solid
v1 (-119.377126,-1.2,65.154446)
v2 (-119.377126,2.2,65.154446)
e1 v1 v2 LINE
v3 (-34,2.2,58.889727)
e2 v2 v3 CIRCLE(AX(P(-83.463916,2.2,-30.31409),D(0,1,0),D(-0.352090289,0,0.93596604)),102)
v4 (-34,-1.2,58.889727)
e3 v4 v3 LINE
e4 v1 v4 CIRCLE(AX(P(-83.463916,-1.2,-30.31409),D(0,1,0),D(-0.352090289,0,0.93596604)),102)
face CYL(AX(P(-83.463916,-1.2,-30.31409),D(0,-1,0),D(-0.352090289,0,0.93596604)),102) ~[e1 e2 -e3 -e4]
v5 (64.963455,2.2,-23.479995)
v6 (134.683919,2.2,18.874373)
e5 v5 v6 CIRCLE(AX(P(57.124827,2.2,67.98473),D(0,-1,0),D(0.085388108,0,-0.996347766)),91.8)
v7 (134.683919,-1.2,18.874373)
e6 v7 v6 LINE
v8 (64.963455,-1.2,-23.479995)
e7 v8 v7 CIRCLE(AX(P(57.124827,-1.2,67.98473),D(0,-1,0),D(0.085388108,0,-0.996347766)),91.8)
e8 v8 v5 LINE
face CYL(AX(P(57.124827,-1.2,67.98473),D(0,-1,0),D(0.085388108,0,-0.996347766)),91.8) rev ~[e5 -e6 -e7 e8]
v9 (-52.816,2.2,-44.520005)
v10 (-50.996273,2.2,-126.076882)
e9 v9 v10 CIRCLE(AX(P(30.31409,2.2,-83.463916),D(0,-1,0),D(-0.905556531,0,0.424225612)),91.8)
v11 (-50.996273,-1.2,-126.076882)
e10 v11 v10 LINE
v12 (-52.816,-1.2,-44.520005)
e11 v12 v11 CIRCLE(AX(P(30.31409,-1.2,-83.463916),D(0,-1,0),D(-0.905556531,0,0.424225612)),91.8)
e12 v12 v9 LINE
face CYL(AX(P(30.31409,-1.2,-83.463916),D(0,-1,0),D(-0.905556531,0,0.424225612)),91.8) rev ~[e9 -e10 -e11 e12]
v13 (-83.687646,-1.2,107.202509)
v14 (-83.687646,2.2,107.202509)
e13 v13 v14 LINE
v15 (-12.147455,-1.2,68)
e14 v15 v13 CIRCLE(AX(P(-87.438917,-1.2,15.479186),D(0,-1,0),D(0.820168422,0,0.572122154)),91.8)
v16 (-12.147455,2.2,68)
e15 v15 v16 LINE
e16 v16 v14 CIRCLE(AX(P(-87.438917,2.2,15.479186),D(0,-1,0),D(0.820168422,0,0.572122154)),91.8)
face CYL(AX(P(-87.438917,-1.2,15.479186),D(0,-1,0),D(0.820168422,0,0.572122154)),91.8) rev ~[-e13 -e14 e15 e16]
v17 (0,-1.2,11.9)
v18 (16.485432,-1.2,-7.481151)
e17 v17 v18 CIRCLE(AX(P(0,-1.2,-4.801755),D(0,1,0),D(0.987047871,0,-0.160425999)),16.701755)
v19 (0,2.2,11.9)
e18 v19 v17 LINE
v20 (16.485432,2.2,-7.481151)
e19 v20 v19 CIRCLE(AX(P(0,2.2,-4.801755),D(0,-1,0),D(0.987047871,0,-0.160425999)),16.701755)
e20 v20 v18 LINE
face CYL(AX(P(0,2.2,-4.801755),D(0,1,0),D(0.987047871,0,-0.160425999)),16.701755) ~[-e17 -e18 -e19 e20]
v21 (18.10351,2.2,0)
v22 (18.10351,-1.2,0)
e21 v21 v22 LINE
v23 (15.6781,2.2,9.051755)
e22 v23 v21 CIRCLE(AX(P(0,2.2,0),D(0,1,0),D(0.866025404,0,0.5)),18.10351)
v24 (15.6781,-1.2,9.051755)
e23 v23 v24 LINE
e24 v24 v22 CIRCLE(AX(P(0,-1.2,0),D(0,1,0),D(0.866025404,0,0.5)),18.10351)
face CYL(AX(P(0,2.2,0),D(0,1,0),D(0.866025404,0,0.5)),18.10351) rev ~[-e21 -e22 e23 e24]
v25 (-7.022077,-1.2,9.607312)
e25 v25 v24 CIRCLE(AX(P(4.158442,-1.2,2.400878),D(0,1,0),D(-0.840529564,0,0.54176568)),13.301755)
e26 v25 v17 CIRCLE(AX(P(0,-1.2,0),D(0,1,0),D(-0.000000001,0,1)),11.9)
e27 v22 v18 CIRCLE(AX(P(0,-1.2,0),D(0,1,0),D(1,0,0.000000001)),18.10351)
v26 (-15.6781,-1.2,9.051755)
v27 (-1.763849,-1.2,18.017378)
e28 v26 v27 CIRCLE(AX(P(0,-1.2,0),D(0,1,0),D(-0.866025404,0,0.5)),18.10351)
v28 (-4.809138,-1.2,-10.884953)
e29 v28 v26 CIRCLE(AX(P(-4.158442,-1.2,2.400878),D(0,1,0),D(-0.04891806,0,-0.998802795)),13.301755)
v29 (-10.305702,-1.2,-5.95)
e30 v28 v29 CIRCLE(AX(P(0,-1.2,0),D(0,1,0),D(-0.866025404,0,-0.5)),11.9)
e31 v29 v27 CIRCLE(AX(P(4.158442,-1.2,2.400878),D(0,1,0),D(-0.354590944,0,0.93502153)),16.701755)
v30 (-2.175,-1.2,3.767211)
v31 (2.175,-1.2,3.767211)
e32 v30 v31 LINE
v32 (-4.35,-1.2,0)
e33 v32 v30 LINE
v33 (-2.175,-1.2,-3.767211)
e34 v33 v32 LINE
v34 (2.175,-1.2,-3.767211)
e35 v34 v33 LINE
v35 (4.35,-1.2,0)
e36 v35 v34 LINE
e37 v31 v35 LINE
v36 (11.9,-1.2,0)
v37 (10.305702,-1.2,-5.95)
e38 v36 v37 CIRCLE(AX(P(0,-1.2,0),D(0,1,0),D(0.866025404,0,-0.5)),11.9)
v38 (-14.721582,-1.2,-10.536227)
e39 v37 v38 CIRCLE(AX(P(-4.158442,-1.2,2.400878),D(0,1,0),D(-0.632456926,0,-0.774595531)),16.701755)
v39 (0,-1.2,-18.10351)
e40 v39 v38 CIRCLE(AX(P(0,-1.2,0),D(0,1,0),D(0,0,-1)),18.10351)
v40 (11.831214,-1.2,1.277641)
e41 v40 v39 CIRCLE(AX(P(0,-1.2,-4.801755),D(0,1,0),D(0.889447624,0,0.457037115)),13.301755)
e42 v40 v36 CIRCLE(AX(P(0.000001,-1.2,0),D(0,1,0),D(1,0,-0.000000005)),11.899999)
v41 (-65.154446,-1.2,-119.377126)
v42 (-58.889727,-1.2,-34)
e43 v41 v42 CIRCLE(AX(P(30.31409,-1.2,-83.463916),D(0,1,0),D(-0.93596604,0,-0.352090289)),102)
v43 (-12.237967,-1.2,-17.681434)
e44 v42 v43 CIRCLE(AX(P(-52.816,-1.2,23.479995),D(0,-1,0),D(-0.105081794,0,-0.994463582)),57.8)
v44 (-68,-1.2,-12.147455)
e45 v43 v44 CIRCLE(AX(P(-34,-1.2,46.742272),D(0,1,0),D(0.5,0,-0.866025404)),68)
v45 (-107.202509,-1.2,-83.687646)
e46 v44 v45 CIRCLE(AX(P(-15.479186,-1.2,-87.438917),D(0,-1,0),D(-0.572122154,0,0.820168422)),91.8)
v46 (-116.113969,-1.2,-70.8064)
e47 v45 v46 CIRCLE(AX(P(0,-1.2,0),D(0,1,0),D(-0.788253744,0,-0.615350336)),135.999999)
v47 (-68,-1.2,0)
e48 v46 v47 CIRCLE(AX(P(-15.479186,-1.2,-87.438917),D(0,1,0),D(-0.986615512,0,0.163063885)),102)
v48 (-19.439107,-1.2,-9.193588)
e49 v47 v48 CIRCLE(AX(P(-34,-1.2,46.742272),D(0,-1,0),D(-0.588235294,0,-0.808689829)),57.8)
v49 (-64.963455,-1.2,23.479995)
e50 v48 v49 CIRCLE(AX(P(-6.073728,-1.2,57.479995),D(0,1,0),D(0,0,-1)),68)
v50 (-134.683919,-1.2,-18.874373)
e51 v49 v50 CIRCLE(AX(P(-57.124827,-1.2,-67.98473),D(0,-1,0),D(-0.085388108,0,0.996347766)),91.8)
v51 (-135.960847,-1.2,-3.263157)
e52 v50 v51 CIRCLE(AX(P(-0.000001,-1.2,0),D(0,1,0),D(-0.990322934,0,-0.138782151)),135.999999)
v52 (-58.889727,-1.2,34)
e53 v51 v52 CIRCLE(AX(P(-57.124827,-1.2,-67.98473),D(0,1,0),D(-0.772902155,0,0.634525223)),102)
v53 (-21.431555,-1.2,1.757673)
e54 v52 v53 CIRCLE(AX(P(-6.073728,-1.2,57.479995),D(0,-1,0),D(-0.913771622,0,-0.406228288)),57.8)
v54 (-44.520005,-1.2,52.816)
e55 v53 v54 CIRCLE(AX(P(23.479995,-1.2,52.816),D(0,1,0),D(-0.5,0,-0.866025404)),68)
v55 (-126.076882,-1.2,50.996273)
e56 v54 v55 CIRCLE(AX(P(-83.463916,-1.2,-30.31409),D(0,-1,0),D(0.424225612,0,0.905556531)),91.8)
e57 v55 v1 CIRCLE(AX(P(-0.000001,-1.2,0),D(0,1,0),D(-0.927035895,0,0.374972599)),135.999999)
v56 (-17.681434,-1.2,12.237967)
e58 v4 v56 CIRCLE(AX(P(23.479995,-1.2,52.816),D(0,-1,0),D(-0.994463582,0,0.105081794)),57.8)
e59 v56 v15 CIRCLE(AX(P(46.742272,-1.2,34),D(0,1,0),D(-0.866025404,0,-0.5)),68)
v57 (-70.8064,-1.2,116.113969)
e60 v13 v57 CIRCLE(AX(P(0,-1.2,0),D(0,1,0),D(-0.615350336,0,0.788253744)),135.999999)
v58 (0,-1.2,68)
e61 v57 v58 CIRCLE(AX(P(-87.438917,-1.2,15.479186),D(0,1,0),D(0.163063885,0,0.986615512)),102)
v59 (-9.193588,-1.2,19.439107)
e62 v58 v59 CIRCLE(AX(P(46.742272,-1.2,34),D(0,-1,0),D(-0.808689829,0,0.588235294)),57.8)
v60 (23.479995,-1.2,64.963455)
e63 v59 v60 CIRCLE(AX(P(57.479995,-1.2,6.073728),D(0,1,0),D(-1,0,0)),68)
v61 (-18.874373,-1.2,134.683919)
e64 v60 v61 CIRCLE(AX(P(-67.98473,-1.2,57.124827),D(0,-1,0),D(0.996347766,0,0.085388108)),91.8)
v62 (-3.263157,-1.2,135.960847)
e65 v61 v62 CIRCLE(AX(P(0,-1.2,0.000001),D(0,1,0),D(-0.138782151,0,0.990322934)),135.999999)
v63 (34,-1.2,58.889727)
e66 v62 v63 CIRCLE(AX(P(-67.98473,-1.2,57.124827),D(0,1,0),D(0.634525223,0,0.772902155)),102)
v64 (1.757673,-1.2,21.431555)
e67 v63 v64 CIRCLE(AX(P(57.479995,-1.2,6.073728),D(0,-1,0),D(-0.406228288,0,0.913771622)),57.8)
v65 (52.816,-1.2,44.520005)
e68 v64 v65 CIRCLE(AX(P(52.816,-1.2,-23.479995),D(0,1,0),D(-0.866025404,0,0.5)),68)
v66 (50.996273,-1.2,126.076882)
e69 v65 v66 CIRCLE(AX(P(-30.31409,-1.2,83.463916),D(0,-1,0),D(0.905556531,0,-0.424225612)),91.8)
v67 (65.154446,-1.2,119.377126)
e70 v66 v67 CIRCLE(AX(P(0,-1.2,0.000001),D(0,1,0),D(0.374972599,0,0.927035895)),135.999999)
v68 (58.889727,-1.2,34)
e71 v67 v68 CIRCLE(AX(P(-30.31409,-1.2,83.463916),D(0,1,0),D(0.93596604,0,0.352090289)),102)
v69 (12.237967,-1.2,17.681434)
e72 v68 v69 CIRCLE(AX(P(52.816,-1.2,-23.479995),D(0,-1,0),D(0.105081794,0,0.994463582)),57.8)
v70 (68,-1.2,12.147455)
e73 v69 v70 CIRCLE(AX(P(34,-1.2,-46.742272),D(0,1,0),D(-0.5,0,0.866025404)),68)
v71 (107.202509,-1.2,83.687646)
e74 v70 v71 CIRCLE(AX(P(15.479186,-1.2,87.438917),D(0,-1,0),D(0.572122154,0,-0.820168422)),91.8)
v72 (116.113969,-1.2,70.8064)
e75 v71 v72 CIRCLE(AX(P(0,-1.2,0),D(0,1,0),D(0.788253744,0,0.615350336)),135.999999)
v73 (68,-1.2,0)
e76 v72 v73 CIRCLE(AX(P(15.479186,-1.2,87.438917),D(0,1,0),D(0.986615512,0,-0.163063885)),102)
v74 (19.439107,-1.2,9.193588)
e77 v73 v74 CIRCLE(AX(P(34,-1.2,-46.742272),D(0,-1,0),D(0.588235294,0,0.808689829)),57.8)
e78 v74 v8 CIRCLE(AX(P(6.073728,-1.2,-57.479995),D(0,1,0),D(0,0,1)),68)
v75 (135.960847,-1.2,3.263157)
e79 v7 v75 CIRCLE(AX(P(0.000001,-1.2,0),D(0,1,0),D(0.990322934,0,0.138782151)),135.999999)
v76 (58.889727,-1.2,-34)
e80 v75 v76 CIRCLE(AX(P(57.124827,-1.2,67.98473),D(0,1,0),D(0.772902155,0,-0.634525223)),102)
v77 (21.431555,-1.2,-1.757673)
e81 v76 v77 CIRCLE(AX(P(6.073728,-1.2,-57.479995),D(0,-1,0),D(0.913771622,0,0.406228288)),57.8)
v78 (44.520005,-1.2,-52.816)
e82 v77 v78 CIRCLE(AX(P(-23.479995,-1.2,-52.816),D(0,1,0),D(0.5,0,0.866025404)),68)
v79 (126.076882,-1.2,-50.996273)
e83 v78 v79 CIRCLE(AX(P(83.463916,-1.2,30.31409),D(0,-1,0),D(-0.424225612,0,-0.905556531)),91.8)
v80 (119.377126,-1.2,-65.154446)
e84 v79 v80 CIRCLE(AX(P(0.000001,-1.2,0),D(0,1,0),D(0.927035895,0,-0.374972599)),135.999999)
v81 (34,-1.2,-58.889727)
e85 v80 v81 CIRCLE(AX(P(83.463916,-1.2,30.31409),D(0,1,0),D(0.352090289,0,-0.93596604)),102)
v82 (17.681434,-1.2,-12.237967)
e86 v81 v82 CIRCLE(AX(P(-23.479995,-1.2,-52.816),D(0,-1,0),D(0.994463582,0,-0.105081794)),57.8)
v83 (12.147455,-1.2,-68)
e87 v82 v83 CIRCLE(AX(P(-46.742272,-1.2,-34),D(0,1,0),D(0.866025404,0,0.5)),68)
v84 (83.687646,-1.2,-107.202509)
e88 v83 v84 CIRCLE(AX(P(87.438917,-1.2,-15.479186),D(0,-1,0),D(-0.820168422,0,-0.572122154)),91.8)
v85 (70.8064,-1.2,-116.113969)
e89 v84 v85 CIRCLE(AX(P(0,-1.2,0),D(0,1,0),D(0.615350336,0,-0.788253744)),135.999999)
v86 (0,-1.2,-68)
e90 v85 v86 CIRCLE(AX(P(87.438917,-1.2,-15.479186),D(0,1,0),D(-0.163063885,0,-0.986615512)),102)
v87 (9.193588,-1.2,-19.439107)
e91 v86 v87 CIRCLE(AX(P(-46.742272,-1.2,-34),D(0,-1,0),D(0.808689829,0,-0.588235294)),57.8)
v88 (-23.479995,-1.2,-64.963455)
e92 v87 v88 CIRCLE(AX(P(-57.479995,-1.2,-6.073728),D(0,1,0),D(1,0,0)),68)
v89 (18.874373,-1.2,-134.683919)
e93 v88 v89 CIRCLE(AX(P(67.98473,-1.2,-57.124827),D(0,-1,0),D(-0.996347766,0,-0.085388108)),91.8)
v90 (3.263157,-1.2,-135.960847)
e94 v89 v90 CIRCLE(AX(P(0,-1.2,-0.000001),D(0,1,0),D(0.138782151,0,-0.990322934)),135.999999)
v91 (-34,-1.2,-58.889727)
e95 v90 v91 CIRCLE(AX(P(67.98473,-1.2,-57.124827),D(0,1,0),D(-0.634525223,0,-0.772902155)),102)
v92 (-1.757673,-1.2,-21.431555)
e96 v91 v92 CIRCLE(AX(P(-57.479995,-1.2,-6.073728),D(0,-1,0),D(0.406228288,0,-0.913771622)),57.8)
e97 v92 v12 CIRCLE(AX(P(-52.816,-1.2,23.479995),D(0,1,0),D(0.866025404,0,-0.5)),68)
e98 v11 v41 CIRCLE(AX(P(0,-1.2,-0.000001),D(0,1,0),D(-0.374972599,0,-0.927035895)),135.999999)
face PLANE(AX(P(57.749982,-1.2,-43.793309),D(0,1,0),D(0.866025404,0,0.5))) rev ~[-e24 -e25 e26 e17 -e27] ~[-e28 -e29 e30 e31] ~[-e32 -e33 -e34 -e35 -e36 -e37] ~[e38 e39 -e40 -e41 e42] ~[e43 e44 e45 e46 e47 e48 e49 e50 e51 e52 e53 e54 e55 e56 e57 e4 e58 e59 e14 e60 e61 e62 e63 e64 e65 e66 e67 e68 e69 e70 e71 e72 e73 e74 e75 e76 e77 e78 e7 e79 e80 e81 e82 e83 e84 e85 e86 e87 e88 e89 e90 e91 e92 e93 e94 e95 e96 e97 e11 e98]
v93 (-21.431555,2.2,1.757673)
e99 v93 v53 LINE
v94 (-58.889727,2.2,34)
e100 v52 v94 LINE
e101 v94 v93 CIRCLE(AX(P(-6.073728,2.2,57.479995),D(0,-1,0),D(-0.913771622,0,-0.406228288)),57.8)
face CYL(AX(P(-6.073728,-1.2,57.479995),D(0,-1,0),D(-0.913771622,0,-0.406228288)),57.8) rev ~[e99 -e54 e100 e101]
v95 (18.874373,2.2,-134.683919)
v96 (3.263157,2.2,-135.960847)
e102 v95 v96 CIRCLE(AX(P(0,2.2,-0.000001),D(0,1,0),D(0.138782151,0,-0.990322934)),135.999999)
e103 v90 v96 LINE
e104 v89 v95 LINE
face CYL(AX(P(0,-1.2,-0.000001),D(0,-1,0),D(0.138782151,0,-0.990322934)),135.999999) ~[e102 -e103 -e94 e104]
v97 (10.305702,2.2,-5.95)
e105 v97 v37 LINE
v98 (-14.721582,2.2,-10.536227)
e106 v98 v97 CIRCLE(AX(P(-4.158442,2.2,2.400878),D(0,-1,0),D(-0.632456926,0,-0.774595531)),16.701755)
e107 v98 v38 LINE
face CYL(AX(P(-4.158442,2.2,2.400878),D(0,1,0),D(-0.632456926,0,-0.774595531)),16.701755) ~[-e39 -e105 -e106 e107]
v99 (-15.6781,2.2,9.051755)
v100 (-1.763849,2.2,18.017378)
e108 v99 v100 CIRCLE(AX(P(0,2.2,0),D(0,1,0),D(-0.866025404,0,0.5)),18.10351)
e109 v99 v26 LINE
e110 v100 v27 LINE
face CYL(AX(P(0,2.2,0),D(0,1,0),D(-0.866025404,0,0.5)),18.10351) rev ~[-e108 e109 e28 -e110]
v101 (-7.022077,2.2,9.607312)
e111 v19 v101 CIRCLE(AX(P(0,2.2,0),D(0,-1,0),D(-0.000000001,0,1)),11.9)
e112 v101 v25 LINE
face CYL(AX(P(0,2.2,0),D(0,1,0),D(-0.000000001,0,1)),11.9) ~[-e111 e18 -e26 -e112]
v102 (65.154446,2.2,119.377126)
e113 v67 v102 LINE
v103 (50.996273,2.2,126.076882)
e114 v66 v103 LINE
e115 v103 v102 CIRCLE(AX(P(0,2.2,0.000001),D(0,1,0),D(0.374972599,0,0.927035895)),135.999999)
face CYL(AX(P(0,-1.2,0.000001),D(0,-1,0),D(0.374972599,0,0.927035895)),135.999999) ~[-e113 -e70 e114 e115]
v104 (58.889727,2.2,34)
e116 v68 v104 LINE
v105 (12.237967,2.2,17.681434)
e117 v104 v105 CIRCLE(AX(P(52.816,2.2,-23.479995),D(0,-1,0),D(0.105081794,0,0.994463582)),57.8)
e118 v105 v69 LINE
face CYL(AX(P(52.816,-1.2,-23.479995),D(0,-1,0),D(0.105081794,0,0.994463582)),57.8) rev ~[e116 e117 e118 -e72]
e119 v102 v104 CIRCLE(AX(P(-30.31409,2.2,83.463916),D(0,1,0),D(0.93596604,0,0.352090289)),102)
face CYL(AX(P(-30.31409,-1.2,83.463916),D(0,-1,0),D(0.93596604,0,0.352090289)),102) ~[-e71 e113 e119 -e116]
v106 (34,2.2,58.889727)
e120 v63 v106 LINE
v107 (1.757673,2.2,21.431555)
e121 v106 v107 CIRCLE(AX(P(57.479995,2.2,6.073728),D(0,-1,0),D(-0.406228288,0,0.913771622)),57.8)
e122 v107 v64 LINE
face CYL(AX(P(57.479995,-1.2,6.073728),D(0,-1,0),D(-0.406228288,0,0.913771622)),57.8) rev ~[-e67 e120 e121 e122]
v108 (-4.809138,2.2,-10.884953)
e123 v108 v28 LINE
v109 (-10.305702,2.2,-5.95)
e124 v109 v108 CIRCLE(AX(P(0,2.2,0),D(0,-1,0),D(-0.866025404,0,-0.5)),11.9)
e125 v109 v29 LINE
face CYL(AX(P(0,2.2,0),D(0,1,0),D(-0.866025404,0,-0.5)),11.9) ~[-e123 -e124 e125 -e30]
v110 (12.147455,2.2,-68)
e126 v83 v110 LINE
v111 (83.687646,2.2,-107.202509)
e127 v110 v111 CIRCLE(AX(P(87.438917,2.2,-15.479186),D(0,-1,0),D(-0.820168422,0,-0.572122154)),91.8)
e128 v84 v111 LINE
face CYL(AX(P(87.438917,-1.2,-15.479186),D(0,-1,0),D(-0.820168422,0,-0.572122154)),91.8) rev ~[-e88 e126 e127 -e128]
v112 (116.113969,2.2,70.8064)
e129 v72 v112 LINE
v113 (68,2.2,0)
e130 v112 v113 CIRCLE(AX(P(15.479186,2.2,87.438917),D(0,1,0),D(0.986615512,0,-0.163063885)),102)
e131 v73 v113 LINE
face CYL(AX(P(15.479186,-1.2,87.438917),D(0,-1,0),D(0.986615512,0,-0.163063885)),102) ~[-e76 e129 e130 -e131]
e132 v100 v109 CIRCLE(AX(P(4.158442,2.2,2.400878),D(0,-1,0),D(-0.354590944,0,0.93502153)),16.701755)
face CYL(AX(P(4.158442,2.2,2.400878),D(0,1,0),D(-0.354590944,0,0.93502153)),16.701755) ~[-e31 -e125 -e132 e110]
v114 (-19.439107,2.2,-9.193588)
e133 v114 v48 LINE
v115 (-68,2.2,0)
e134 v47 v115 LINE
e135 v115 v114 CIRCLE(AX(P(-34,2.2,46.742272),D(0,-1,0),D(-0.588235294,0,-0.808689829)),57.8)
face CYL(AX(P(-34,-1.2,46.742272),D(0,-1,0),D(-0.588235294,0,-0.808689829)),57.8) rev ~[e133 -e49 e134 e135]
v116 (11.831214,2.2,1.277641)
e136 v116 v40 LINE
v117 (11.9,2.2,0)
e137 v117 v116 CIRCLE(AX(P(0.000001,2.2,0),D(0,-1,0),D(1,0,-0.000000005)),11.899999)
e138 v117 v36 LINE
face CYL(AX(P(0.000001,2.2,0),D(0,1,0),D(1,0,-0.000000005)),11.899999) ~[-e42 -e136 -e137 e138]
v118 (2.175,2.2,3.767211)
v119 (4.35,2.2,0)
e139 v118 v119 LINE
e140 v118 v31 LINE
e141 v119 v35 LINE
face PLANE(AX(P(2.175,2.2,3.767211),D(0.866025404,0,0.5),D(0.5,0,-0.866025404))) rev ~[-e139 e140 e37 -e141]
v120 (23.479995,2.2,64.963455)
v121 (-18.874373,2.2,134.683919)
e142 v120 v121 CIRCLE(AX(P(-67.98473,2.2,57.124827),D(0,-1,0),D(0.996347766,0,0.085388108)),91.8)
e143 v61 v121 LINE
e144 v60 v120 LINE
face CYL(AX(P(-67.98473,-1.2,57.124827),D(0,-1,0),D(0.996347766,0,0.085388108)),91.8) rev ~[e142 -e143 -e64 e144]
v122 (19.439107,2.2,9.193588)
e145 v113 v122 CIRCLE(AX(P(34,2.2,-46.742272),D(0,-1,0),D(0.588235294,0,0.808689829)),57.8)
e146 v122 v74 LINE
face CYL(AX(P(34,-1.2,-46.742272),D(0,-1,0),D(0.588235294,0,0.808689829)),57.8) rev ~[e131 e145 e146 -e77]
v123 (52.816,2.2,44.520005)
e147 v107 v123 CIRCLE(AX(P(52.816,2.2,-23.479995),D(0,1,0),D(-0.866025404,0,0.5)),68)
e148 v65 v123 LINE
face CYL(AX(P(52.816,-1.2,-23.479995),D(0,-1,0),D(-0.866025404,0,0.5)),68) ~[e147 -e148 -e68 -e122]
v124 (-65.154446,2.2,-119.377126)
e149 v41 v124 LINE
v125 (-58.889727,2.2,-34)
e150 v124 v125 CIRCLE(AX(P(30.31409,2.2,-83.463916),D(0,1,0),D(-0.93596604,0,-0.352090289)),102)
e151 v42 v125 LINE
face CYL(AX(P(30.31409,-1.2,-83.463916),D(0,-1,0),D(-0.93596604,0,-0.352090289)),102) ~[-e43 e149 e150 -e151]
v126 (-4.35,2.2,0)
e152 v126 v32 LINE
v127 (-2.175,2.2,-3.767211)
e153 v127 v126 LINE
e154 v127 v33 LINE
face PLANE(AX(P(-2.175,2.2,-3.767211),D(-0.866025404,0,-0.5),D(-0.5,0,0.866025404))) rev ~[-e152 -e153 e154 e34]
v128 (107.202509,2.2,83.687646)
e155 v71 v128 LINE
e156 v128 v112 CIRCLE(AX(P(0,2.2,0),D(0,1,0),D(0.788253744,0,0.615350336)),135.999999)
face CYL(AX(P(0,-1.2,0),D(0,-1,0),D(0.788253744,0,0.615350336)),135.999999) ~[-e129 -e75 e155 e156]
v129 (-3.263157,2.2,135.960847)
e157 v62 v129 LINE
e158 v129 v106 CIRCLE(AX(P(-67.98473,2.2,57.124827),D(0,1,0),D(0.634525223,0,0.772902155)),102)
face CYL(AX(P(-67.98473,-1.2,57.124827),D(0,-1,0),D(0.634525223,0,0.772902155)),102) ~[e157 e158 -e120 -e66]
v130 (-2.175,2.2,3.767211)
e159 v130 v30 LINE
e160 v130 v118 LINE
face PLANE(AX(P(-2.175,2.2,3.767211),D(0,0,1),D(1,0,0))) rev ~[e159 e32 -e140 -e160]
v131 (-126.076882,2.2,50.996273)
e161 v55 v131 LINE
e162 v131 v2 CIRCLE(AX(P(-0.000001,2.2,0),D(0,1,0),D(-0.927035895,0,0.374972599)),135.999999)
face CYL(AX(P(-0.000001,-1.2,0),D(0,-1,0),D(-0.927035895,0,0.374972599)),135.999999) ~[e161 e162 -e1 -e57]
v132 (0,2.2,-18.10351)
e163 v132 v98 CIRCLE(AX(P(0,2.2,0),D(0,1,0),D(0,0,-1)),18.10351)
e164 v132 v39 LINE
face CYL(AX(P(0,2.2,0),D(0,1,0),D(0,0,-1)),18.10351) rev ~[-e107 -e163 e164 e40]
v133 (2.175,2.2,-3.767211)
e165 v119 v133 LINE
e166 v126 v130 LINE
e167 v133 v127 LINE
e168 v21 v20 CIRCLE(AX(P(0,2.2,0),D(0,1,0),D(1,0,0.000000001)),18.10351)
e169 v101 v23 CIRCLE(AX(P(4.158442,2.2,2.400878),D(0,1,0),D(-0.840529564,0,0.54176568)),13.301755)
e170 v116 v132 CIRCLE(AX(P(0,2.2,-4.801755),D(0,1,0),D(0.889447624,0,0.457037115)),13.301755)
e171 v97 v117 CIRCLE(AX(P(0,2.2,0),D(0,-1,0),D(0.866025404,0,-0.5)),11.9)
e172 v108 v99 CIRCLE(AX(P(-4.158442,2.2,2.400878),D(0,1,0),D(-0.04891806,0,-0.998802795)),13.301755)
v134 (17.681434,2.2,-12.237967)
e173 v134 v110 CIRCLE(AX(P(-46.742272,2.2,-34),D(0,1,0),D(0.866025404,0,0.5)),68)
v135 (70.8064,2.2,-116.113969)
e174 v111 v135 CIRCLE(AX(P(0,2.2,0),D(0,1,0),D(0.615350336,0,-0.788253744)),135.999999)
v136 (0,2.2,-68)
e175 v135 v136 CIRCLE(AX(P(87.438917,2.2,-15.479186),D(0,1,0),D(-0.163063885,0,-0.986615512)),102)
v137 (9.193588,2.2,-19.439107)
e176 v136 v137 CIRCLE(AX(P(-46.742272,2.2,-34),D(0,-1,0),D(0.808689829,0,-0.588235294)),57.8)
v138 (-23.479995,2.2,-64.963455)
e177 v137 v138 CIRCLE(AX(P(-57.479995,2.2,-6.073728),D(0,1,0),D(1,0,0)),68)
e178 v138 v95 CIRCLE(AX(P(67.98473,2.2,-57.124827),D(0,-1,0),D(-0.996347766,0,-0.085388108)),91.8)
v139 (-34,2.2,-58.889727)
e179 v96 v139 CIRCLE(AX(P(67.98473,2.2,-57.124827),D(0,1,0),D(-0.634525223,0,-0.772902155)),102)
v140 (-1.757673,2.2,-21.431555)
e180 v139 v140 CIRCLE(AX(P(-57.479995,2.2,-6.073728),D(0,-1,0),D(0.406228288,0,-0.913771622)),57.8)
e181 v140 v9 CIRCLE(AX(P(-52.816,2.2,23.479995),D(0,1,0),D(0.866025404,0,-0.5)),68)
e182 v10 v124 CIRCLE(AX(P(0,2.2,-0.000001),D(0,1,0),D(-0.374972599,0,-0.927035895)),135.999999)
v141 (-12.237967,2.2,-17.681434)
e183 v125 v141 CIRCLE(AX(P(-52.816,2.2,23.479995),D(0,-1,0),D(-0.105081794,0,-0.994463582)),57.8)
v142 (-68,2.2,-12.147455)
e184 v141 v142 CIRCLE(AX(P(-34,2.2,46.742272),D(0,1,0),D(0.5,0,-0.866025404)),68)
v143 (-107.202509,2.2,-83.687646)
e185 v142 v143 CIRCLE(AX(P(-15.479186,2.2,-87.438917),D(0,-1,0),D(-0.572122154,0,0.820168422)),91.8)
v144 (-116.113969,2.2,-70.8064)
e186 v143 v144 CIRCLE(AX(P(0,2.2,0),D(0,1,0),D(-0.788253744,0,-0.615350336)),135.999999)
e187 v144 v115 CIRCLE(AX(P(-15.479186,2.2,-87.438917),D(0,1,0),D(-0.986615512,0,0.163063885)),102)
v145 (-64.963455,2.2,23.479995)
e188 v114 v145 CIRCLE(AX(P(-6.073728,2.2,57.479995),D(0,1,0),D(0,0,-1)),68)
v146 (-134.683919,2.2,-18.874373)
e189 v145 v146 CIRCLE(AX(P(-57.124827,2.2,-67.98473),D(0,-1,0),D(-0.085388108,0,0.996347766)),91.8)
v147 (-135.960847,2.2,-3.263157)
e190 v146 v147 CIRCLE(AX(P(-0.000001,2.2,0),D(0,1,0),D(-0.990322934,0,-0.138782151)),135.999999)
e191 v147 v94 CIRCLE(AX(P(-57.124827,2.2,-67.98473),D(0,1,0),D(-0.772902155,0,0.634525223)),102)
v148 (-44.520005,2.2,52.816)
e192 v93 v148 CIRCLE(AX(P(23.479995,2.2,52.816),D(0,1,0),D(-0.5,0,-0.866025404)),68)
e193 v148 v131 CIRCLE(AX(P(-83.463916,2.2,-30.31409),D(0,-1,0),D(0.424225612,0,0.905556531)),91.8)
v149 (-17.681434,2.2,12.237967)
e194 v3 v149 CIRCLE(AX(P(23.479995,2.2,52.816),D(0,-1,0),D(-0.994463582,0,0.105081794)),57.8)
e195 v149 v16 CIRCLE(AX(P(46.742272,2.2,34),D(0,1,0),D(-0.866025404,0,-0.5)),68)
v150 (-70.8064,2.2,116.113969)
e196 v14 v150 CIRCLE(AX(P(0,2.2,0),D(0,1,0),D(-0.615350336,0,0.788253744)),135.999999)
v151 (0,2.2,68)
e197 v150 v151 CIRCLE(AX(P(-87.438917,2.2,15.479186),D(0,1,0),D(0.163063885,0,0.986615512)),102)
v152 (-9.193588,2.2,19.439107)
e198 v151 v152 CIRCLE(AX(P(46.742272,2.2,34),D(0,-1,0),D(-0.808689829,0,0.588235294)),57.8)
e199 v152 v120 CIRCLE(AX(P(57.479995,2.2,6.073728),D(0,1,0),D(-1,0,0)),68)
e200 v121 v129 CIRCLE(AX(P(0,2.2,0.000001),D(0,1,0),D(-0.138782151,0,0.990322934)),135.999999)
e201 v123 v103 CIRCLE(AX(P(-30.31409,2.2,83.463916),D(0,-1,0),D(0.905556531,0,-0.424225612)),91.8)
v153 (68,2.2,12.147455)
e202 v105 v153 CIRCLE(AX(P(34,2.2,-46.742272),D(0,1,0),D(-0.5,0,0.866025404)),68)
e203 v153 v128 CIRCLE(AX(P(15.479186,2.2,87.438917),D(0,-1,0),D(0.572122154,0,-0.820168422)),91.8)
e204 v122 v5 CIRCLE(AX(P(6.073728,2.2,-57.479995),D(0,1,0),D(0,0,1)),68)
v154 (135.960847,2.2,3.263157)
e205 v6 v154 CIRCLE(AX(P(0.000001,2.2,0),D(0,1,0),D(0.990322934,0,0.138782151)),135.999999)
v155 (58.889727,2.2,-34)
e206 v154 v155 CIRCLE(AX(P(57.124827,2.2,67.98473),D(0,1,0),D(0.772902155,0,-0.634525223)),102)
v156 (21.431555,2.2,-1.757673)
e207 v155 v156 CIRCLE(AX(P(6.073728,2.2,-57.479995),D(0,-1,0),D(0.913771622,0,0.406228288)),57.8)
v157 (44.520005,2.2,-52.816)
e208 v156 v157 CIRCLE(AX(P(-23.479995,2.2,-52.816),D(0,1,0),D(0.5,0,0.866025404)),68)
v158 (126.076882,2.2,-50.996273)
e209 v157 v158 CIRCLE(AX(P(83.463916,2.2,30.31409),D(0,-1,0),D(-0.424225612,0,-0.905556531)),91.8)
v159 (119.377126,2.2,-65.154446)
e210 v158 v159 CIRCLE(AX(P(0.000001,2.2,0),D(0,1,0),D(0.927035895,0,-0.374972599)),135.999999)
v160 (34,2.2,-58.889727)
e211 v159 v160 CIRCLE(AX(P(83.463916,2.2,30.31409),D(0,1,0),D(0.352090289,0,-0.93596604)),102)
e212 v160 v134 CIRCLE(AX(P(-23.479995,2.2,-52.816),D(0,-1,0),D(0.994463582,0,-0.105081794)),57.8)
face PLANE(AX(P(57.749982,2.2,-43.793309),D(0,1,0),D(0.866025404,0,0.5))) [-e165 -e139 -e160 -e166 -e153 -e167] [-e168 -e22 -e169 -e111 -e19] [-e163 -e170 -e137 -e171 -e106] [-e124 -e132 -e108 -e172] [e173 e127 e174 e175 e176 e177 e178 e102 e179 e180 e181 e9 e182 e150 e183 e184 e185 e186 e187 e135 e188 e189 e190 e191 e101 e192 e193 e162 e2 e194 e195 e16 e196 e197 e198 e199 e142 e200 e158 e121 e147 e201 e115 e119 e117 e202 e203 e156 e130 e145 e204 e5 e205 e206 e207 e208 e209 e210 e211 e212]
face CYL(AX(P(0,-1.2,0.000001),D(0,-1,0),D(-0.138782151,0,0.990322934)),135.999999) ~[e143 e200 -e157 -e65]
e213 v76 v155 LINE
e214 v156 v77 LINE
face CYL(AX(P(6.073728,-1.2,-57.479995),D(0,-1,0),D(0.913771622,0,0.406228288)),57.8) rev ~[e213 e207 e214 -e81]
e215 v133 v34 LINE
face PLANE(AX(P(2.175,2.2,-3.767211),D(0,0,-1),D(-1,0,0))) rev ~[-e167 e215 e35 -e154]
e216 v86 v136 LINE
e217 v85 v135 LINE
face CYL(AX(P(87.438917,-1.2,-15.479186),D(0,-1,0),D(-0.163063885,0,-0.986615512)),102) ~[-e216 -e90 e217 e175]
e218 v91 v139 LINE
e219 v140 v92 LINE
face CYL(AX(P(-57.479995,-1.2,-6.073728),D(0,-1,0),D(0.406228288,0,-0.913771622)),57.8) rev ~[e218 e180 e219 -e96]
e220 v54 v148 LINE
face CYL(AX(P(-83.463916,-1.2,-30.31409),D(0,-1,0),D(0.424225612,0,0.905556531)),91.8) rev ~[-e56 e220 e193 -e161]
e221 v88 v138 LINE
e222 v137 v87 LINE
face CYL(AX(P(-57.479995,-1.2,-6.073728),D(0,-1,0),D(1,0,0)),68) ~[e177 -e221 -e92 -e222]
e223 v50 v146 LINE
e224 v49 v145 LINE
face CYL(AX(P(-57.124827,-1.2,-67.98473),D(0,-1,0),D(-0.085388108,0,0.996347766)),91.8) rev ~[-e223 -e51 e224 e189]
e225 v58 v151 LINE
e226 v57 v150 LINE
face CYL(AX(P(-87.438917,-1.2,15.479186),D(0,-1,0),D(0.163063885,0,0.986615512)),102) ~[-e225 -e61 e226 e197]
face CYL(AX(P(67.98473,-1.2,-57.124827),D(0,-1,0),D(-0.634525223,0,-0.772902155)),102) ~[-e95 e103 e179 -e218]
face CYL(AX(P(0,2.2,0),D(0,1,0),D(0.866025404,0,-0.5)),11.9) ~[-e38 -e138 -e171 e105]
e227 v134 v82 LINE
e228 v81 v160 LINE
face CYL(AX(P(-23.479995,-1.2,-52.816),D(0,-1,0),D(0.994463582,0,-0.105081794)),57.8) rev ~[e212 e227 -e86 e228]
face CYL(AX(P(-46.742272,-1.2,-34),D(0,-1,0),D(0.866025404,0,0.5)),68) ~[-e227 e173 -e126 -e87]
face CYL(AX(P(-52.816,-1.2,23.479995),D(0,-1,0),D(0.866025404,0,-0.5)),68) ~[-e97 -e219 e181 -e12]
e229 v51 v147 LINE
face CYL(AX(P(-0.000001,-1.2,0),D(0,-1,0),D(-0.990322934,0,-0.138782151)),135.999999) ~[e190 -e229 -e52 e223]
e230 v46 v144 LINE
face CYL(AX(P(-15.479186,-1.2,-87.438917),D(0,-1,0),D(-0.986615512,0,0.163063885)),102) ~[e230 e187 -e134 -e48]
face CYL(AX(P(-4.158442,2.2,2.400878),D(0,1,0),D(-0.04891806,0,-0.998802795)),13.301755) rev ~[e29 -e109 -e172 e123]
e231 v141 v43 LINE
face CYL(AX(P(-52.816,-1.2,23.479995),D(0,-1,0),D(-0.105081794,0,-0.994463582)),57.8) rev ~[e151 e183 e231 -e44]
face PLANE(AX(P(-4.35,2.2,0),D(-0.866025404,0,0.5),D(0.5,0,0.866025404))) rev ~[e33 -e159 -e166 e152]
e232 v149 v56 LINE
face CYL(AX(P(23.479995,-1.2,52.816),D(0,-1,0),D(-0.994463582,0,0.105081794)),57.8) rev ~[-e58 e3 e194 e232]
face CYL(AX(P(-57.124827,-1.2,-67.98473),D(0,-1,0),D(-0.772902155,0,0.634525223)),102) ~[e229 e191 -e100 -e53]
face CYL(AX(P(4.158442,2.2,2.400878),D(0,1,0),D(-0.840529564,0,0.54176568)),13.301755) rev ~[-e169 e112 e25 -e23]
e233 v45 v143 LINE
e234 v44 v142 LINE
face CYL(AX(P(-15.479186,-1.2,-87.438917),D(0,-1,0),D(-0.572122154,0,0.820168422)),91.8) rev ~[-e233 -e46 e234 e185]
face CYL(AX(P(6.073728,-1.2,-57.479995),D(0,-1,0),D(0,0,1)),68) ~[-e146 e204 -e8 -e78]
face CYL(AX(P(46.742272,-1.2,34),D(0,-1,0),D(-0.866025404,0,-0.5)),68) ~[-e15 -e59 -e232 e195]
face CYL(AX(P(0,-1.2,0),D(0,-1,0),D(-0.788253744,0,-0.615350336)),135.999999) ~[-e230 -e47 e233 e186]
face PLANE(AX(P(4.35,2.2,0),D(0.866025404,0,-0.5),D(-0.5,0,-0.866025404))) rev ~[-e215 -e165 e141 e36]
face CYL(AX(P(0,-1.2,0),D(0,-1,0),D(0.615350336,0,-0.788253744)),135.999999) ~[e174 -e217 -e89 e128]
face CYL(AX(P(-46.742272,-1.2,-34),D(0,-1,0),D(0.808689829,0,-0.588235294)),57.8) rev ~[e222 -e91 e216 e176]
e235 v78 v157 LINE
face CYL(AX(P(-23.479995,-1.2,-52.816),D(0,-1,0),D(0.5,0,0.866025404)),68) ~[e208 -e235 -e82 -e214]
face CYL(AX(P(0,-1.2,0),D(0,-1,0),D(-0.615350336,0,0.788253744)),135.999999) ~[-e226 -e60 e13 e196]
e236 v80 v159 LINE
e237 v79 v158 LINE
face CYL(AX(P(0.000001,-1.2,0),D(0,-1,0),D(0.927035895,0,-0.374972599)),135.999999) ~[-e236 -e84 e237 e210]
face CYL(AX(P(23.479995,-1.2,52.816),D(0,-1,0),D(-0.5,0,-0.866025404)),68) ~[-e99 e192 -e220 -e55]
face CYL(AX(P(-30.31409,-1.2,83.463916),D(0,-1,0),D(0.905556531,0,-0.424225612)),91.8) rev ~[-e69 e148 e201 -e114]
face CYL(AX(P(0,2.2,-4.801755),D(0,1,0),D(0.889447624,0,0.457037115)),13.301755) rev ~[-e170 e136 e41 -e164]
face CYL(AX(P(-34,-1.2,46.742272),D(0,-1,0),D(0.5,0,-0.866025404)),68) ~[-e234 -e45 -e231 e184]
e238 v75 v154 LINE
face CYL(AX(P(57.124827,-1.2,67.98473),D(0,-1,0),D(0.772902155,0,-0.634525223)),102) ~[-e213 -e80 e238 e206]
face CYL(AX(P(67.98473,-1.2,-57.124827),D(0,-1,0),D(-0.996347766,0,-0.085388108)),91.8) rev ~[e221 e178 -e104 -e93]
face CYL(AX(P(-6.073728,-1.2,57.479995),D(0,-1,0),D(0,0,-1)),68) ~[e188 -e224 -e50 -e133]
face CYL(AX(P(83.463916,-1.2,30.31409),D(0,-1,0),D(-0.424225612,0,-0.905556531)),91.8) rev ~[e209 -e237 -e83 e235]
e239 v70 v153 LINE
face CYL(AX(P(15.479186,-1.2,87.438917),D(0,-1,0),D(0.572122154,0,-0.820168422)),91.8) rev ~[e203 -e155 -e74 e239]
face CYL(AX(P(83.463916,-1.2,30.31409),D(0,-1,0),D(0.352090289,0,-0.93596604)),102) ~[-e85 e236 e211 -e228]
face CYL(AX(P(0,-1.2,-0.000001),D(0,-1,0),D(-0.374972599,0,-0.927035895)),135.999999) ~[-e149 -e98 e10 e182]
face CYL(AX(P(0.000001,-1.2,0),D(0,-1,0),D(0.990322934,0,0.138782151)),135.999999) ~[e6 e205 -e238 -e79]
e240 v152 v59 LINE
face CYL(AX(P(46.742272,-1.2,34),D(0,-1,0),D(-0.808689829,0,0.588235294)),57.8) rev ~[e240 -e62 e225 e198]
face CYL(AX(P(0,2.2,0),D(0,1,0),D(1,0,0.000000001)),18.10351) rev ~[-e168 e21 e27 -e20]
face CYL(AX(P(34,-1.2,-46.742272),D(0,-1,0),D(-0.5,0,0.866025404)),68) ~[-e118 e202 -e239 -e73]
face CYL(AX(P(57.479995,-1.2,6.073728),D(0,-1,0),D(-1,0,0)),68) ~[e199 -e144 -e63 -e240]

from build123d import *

# Parameters (mm, degrees)
BOSS_EXTRUDE1_DEPTH = 1
CIRPATTERN1_COUNT   = 12
SKETCH2_R           = 6.32456178
BOSS_EXTRUDE2_DEPTH = 1
CUT_EXTRUDE1_DEPTH  = 57.561097513
SCALE1_SCALE        = 3.4
CUT_EXTRUDE2_DEPTH  = 3.4


with BuildPart() as part:
    # Sketch1 → Boss-Extrude1 (new body)
    with BuildSketch(Plane(origin=(0, 0, 0), x_dir=(1, 0, 0), z_dir=(0, 1, 0))):
        with BuildLine():
            ThreePointArc((0, 20), (3.252272915, 10), (0, 0))
            Line((0, 0), (3.572780991, 0))
            ThreePointArc((3.572780991, 0), (6.252272915, 10), (3.572780991, 20))
            ThreePointArc((3.572780991, 20), (12.742280623, 28.230711371), (24.614013417, 31.530149754))
            ThreePointArc((24.614013417, 31.530149754), (22.757477342, 32.895246238), (20.825411836, 34.151167211))
            ThreePointArc((20.825411836, 34.151167211), (8.856268151, 29.366098374), (0, 20))
        make_face()
    extrude(amount=BOSS_EXTRUDE1_DEPTH)


with BuildPart() as cirpattern1_1:
    # CirPattern1: pattern copy
    add(part.part.rotate(Axis((0, 0, 0), (0, 1, 0)), 1 * 360 / CIRPATTERN1_COUNT))


with BuildPart() as cirpattern1_2:
    # CirPattern1: pattern copy
    add(part.part.rotate(Axis((0, 0, 0), (0, 1, 0)), 2 * 360 / CIRPATTERN1_COUNT))


with BuildPart() as cirpattern1_3:
    # CirPattern1: pattern copy
    add(part.part.rotate(Axis((0, 0, 0), (0, 1, 0)), 3 * 360 / CIRPATTERN1_COUNT))


with BuildPart() as cirpattern1_4:
    # CirPattern1: pattern copy
    add(part.part.rotate(Axis((0, 0, 0), (0, 1, 0)), 4 * 360 / CIRPATTERN1_COUNT))


with BuildPart() as cirpattern1_5:
    # CirPattern1: pattern copy
    add(part.part.rotate(Axis((0, 0, 0), (0, 1, 0)), 5 * 360 / CIRPATTERN1_COUNT))


with BuildPart() as cirpattern1_6:
    # CirPattern1: pattern copy
    add(part.part.rotate(Axis((0, 0, 0), (0, 1, 0)), 6 * 360 / CIRPATTERN1_COUNT))


with BuildPart() as cirpattern1_7:
    # CirPattern1: pattern copy
    add(part.part.rotate(Axis((0, 0, 0), (0, 1, 0)), 7 * 360 / CIRPATTERN1_COUNT))


with BuildPart() as cirpattern1_8:
    # CirPattern1: pattern copy
    add(part.part.rotate(Axis((0, 0, 0), (0, 1, 0)), 8 * 360 / CIRPATTERN1_COUNT))


with BuildPart() as cirpattern1_9:
    # CirPattern1: pattern copy
    add(part.part.rotate(Axis((0, 0, 0), (0, 1, 0)), 9 * 360 / CIRPATTERN1_COUNT))


with BuildPart() as cirpattern1_10:
    # CirPattern1: pattern copy
    add(part.part.rotate(Axis((0, 0, 0), (0, 1, 0)), 10 * 360 / CIRPATTERN1_COUNT))


with BuildPart() as cirpattern1_11:
    # CirPattern1: pattern copy
    add(part.part.rotate(Axis((0, 0, 0), (0, 1, 0)), 11 * 360 / CIRPATTERN1_COUNT))


with BuildPart() as part_1:
    add(part.part)

    add(cirpattern1_1.part)  # Boss-Extrude2 merges CirPattern1_1

    add(cirpattern1_2.part)  # Boss-Extrude2 merges CirPattern1_2

    add(cirpattern1_3.part)  # Boss-Extrude2 merges CirPattern1_3

    add(cirpattern1_4.part)  # Boss-Extrude2 merges CirPattern1_4

    add(cirpattern1_5.part)  # Boss-Extrude2 merges CirPattern1_5

    add(cirpattern1_6.part)  # Boss-Extrude2 merges CirPattern1_6

    add(cirpattern1_7.part)  # Boss-Extrude2 merges CirPattern1_7

    add(cirpattern1_8.part)  # Boss-Extrude2 merges CirPattern1_8

    add(cirpattern1_9.part)  # Boss-Extrude2 merges CirPattern1_9

    add(cirpattern1_10.part)  # Boss-Extrude2 merges CirPattern1_10

    add(cirpattern1_11.part)  # Boss-Extrude2 merges CirPattern1_11
    # Sketch2 → Boss-Extrude2 (add)
    with BuildSketch(Plane(origin=(0, 0, 0), x_dir=(1, 0, 0), z_dir=(0, 1, 0))):
        Circle(SKETCH2_R)
    extrude(amount=BOSS_EXTRUDE2_DEPTH)

    # Sketch3 → Cut-Extrude1 (cut, through all)
    with BuildSketch(Plane(origin=(0, 1, 0), x_dir=(1, 0, 0), z_dir=(0, 1, 0))):
        with BuildLine():
            ThreePointArc((-0.518779192, -5.29922884), (-3.404124769, -2.355249802), (-3.031088913, 1.75))
            ThreePointArc((-3.031088913, 1.75), (-2.338245241, 2.604344292), (-1.414452319, 3.201456643))
            ThreePointArc((-1.414452319, 3.201456643), (-4.658051165, 1.166519136), (-4.611205766, -2.66228089))
            ThreePointArc((-4.611205766, -2.66228089), (-2.884018037, -4.47586842), (-0.518779192, -5.29922884))
        make_face()
        with BuildLine():
            ThreePointArc((3.5, 0), (3.494938576, -0.188160443), (3.479768941, -0.375776681))
            ThreePointArc((3.479768941, -0.375776681), (3.339260789, 3.450731073), (0, 5.32456178))
            ThreePointArc((0, 5.32456178), (-2.434206737, 4.735567095), (-4.3298772, 3.098890379))
            ThreePointArc((-4.3298772, 3.098890379), (-0.337643776, 4.125683429), (3.031088913, 1.75))
            ThreePointArc((3.031088913, 1.75), (3.380740392, 0.905866658), (3.5, 0))
        make_face()
        with BuildLine():
            ThreePointArc((0, -3.5), (-1.086305696, -3.327151925), (-2.065316622, -2.825679962))
            ThreePointArc((-2.065316622, -2.825679962), (1.318790377, -4.617250209), (4.611205766, -2.66228089))
            ThreePointArc((4.611205766, -2.66228089), (5.143131737, -1.378097996), (5.32456178, 0))
            ThreePointArc((5.32456178, 0), (5.204225623, 1.1256082), (4.848656392, 2.200338461))
            ThreePointArc((4.848656392, 2.200338461), (3.741768545, -1.770433627), (0, -3.5))
        make_face()
    extrude(amount=-CUT_EXTRUDE1_DEPTH, mode=Mode.SUBTRACT)


with BuildPart() as part_2:
    # Scale1: scaled about (0, 0.5, 0)
    add(part_1.part.scale(SCALE1_SCALE).moved(Location((0, -1.2, 0))))

    # Sketch4 → Cut-Extrude2 (cut)
    with BuildSketch(Plane(origin=(0, 2.2, 0), x_dir=(1, 0, 0), z_dir=(0, 1, 0))):
        Polygon((-4.35, 0), (-2.175, -3.767210506), (2.175, -3.767210506), (4.35, 0), (2.175, 3.767210506), (-2.175, 3.767210506), align=None)
    extrude(amount=-CUT_EXTRUDE2_DEPTH, mode=Mode.SUBTRACT)


solid = part_2.part
